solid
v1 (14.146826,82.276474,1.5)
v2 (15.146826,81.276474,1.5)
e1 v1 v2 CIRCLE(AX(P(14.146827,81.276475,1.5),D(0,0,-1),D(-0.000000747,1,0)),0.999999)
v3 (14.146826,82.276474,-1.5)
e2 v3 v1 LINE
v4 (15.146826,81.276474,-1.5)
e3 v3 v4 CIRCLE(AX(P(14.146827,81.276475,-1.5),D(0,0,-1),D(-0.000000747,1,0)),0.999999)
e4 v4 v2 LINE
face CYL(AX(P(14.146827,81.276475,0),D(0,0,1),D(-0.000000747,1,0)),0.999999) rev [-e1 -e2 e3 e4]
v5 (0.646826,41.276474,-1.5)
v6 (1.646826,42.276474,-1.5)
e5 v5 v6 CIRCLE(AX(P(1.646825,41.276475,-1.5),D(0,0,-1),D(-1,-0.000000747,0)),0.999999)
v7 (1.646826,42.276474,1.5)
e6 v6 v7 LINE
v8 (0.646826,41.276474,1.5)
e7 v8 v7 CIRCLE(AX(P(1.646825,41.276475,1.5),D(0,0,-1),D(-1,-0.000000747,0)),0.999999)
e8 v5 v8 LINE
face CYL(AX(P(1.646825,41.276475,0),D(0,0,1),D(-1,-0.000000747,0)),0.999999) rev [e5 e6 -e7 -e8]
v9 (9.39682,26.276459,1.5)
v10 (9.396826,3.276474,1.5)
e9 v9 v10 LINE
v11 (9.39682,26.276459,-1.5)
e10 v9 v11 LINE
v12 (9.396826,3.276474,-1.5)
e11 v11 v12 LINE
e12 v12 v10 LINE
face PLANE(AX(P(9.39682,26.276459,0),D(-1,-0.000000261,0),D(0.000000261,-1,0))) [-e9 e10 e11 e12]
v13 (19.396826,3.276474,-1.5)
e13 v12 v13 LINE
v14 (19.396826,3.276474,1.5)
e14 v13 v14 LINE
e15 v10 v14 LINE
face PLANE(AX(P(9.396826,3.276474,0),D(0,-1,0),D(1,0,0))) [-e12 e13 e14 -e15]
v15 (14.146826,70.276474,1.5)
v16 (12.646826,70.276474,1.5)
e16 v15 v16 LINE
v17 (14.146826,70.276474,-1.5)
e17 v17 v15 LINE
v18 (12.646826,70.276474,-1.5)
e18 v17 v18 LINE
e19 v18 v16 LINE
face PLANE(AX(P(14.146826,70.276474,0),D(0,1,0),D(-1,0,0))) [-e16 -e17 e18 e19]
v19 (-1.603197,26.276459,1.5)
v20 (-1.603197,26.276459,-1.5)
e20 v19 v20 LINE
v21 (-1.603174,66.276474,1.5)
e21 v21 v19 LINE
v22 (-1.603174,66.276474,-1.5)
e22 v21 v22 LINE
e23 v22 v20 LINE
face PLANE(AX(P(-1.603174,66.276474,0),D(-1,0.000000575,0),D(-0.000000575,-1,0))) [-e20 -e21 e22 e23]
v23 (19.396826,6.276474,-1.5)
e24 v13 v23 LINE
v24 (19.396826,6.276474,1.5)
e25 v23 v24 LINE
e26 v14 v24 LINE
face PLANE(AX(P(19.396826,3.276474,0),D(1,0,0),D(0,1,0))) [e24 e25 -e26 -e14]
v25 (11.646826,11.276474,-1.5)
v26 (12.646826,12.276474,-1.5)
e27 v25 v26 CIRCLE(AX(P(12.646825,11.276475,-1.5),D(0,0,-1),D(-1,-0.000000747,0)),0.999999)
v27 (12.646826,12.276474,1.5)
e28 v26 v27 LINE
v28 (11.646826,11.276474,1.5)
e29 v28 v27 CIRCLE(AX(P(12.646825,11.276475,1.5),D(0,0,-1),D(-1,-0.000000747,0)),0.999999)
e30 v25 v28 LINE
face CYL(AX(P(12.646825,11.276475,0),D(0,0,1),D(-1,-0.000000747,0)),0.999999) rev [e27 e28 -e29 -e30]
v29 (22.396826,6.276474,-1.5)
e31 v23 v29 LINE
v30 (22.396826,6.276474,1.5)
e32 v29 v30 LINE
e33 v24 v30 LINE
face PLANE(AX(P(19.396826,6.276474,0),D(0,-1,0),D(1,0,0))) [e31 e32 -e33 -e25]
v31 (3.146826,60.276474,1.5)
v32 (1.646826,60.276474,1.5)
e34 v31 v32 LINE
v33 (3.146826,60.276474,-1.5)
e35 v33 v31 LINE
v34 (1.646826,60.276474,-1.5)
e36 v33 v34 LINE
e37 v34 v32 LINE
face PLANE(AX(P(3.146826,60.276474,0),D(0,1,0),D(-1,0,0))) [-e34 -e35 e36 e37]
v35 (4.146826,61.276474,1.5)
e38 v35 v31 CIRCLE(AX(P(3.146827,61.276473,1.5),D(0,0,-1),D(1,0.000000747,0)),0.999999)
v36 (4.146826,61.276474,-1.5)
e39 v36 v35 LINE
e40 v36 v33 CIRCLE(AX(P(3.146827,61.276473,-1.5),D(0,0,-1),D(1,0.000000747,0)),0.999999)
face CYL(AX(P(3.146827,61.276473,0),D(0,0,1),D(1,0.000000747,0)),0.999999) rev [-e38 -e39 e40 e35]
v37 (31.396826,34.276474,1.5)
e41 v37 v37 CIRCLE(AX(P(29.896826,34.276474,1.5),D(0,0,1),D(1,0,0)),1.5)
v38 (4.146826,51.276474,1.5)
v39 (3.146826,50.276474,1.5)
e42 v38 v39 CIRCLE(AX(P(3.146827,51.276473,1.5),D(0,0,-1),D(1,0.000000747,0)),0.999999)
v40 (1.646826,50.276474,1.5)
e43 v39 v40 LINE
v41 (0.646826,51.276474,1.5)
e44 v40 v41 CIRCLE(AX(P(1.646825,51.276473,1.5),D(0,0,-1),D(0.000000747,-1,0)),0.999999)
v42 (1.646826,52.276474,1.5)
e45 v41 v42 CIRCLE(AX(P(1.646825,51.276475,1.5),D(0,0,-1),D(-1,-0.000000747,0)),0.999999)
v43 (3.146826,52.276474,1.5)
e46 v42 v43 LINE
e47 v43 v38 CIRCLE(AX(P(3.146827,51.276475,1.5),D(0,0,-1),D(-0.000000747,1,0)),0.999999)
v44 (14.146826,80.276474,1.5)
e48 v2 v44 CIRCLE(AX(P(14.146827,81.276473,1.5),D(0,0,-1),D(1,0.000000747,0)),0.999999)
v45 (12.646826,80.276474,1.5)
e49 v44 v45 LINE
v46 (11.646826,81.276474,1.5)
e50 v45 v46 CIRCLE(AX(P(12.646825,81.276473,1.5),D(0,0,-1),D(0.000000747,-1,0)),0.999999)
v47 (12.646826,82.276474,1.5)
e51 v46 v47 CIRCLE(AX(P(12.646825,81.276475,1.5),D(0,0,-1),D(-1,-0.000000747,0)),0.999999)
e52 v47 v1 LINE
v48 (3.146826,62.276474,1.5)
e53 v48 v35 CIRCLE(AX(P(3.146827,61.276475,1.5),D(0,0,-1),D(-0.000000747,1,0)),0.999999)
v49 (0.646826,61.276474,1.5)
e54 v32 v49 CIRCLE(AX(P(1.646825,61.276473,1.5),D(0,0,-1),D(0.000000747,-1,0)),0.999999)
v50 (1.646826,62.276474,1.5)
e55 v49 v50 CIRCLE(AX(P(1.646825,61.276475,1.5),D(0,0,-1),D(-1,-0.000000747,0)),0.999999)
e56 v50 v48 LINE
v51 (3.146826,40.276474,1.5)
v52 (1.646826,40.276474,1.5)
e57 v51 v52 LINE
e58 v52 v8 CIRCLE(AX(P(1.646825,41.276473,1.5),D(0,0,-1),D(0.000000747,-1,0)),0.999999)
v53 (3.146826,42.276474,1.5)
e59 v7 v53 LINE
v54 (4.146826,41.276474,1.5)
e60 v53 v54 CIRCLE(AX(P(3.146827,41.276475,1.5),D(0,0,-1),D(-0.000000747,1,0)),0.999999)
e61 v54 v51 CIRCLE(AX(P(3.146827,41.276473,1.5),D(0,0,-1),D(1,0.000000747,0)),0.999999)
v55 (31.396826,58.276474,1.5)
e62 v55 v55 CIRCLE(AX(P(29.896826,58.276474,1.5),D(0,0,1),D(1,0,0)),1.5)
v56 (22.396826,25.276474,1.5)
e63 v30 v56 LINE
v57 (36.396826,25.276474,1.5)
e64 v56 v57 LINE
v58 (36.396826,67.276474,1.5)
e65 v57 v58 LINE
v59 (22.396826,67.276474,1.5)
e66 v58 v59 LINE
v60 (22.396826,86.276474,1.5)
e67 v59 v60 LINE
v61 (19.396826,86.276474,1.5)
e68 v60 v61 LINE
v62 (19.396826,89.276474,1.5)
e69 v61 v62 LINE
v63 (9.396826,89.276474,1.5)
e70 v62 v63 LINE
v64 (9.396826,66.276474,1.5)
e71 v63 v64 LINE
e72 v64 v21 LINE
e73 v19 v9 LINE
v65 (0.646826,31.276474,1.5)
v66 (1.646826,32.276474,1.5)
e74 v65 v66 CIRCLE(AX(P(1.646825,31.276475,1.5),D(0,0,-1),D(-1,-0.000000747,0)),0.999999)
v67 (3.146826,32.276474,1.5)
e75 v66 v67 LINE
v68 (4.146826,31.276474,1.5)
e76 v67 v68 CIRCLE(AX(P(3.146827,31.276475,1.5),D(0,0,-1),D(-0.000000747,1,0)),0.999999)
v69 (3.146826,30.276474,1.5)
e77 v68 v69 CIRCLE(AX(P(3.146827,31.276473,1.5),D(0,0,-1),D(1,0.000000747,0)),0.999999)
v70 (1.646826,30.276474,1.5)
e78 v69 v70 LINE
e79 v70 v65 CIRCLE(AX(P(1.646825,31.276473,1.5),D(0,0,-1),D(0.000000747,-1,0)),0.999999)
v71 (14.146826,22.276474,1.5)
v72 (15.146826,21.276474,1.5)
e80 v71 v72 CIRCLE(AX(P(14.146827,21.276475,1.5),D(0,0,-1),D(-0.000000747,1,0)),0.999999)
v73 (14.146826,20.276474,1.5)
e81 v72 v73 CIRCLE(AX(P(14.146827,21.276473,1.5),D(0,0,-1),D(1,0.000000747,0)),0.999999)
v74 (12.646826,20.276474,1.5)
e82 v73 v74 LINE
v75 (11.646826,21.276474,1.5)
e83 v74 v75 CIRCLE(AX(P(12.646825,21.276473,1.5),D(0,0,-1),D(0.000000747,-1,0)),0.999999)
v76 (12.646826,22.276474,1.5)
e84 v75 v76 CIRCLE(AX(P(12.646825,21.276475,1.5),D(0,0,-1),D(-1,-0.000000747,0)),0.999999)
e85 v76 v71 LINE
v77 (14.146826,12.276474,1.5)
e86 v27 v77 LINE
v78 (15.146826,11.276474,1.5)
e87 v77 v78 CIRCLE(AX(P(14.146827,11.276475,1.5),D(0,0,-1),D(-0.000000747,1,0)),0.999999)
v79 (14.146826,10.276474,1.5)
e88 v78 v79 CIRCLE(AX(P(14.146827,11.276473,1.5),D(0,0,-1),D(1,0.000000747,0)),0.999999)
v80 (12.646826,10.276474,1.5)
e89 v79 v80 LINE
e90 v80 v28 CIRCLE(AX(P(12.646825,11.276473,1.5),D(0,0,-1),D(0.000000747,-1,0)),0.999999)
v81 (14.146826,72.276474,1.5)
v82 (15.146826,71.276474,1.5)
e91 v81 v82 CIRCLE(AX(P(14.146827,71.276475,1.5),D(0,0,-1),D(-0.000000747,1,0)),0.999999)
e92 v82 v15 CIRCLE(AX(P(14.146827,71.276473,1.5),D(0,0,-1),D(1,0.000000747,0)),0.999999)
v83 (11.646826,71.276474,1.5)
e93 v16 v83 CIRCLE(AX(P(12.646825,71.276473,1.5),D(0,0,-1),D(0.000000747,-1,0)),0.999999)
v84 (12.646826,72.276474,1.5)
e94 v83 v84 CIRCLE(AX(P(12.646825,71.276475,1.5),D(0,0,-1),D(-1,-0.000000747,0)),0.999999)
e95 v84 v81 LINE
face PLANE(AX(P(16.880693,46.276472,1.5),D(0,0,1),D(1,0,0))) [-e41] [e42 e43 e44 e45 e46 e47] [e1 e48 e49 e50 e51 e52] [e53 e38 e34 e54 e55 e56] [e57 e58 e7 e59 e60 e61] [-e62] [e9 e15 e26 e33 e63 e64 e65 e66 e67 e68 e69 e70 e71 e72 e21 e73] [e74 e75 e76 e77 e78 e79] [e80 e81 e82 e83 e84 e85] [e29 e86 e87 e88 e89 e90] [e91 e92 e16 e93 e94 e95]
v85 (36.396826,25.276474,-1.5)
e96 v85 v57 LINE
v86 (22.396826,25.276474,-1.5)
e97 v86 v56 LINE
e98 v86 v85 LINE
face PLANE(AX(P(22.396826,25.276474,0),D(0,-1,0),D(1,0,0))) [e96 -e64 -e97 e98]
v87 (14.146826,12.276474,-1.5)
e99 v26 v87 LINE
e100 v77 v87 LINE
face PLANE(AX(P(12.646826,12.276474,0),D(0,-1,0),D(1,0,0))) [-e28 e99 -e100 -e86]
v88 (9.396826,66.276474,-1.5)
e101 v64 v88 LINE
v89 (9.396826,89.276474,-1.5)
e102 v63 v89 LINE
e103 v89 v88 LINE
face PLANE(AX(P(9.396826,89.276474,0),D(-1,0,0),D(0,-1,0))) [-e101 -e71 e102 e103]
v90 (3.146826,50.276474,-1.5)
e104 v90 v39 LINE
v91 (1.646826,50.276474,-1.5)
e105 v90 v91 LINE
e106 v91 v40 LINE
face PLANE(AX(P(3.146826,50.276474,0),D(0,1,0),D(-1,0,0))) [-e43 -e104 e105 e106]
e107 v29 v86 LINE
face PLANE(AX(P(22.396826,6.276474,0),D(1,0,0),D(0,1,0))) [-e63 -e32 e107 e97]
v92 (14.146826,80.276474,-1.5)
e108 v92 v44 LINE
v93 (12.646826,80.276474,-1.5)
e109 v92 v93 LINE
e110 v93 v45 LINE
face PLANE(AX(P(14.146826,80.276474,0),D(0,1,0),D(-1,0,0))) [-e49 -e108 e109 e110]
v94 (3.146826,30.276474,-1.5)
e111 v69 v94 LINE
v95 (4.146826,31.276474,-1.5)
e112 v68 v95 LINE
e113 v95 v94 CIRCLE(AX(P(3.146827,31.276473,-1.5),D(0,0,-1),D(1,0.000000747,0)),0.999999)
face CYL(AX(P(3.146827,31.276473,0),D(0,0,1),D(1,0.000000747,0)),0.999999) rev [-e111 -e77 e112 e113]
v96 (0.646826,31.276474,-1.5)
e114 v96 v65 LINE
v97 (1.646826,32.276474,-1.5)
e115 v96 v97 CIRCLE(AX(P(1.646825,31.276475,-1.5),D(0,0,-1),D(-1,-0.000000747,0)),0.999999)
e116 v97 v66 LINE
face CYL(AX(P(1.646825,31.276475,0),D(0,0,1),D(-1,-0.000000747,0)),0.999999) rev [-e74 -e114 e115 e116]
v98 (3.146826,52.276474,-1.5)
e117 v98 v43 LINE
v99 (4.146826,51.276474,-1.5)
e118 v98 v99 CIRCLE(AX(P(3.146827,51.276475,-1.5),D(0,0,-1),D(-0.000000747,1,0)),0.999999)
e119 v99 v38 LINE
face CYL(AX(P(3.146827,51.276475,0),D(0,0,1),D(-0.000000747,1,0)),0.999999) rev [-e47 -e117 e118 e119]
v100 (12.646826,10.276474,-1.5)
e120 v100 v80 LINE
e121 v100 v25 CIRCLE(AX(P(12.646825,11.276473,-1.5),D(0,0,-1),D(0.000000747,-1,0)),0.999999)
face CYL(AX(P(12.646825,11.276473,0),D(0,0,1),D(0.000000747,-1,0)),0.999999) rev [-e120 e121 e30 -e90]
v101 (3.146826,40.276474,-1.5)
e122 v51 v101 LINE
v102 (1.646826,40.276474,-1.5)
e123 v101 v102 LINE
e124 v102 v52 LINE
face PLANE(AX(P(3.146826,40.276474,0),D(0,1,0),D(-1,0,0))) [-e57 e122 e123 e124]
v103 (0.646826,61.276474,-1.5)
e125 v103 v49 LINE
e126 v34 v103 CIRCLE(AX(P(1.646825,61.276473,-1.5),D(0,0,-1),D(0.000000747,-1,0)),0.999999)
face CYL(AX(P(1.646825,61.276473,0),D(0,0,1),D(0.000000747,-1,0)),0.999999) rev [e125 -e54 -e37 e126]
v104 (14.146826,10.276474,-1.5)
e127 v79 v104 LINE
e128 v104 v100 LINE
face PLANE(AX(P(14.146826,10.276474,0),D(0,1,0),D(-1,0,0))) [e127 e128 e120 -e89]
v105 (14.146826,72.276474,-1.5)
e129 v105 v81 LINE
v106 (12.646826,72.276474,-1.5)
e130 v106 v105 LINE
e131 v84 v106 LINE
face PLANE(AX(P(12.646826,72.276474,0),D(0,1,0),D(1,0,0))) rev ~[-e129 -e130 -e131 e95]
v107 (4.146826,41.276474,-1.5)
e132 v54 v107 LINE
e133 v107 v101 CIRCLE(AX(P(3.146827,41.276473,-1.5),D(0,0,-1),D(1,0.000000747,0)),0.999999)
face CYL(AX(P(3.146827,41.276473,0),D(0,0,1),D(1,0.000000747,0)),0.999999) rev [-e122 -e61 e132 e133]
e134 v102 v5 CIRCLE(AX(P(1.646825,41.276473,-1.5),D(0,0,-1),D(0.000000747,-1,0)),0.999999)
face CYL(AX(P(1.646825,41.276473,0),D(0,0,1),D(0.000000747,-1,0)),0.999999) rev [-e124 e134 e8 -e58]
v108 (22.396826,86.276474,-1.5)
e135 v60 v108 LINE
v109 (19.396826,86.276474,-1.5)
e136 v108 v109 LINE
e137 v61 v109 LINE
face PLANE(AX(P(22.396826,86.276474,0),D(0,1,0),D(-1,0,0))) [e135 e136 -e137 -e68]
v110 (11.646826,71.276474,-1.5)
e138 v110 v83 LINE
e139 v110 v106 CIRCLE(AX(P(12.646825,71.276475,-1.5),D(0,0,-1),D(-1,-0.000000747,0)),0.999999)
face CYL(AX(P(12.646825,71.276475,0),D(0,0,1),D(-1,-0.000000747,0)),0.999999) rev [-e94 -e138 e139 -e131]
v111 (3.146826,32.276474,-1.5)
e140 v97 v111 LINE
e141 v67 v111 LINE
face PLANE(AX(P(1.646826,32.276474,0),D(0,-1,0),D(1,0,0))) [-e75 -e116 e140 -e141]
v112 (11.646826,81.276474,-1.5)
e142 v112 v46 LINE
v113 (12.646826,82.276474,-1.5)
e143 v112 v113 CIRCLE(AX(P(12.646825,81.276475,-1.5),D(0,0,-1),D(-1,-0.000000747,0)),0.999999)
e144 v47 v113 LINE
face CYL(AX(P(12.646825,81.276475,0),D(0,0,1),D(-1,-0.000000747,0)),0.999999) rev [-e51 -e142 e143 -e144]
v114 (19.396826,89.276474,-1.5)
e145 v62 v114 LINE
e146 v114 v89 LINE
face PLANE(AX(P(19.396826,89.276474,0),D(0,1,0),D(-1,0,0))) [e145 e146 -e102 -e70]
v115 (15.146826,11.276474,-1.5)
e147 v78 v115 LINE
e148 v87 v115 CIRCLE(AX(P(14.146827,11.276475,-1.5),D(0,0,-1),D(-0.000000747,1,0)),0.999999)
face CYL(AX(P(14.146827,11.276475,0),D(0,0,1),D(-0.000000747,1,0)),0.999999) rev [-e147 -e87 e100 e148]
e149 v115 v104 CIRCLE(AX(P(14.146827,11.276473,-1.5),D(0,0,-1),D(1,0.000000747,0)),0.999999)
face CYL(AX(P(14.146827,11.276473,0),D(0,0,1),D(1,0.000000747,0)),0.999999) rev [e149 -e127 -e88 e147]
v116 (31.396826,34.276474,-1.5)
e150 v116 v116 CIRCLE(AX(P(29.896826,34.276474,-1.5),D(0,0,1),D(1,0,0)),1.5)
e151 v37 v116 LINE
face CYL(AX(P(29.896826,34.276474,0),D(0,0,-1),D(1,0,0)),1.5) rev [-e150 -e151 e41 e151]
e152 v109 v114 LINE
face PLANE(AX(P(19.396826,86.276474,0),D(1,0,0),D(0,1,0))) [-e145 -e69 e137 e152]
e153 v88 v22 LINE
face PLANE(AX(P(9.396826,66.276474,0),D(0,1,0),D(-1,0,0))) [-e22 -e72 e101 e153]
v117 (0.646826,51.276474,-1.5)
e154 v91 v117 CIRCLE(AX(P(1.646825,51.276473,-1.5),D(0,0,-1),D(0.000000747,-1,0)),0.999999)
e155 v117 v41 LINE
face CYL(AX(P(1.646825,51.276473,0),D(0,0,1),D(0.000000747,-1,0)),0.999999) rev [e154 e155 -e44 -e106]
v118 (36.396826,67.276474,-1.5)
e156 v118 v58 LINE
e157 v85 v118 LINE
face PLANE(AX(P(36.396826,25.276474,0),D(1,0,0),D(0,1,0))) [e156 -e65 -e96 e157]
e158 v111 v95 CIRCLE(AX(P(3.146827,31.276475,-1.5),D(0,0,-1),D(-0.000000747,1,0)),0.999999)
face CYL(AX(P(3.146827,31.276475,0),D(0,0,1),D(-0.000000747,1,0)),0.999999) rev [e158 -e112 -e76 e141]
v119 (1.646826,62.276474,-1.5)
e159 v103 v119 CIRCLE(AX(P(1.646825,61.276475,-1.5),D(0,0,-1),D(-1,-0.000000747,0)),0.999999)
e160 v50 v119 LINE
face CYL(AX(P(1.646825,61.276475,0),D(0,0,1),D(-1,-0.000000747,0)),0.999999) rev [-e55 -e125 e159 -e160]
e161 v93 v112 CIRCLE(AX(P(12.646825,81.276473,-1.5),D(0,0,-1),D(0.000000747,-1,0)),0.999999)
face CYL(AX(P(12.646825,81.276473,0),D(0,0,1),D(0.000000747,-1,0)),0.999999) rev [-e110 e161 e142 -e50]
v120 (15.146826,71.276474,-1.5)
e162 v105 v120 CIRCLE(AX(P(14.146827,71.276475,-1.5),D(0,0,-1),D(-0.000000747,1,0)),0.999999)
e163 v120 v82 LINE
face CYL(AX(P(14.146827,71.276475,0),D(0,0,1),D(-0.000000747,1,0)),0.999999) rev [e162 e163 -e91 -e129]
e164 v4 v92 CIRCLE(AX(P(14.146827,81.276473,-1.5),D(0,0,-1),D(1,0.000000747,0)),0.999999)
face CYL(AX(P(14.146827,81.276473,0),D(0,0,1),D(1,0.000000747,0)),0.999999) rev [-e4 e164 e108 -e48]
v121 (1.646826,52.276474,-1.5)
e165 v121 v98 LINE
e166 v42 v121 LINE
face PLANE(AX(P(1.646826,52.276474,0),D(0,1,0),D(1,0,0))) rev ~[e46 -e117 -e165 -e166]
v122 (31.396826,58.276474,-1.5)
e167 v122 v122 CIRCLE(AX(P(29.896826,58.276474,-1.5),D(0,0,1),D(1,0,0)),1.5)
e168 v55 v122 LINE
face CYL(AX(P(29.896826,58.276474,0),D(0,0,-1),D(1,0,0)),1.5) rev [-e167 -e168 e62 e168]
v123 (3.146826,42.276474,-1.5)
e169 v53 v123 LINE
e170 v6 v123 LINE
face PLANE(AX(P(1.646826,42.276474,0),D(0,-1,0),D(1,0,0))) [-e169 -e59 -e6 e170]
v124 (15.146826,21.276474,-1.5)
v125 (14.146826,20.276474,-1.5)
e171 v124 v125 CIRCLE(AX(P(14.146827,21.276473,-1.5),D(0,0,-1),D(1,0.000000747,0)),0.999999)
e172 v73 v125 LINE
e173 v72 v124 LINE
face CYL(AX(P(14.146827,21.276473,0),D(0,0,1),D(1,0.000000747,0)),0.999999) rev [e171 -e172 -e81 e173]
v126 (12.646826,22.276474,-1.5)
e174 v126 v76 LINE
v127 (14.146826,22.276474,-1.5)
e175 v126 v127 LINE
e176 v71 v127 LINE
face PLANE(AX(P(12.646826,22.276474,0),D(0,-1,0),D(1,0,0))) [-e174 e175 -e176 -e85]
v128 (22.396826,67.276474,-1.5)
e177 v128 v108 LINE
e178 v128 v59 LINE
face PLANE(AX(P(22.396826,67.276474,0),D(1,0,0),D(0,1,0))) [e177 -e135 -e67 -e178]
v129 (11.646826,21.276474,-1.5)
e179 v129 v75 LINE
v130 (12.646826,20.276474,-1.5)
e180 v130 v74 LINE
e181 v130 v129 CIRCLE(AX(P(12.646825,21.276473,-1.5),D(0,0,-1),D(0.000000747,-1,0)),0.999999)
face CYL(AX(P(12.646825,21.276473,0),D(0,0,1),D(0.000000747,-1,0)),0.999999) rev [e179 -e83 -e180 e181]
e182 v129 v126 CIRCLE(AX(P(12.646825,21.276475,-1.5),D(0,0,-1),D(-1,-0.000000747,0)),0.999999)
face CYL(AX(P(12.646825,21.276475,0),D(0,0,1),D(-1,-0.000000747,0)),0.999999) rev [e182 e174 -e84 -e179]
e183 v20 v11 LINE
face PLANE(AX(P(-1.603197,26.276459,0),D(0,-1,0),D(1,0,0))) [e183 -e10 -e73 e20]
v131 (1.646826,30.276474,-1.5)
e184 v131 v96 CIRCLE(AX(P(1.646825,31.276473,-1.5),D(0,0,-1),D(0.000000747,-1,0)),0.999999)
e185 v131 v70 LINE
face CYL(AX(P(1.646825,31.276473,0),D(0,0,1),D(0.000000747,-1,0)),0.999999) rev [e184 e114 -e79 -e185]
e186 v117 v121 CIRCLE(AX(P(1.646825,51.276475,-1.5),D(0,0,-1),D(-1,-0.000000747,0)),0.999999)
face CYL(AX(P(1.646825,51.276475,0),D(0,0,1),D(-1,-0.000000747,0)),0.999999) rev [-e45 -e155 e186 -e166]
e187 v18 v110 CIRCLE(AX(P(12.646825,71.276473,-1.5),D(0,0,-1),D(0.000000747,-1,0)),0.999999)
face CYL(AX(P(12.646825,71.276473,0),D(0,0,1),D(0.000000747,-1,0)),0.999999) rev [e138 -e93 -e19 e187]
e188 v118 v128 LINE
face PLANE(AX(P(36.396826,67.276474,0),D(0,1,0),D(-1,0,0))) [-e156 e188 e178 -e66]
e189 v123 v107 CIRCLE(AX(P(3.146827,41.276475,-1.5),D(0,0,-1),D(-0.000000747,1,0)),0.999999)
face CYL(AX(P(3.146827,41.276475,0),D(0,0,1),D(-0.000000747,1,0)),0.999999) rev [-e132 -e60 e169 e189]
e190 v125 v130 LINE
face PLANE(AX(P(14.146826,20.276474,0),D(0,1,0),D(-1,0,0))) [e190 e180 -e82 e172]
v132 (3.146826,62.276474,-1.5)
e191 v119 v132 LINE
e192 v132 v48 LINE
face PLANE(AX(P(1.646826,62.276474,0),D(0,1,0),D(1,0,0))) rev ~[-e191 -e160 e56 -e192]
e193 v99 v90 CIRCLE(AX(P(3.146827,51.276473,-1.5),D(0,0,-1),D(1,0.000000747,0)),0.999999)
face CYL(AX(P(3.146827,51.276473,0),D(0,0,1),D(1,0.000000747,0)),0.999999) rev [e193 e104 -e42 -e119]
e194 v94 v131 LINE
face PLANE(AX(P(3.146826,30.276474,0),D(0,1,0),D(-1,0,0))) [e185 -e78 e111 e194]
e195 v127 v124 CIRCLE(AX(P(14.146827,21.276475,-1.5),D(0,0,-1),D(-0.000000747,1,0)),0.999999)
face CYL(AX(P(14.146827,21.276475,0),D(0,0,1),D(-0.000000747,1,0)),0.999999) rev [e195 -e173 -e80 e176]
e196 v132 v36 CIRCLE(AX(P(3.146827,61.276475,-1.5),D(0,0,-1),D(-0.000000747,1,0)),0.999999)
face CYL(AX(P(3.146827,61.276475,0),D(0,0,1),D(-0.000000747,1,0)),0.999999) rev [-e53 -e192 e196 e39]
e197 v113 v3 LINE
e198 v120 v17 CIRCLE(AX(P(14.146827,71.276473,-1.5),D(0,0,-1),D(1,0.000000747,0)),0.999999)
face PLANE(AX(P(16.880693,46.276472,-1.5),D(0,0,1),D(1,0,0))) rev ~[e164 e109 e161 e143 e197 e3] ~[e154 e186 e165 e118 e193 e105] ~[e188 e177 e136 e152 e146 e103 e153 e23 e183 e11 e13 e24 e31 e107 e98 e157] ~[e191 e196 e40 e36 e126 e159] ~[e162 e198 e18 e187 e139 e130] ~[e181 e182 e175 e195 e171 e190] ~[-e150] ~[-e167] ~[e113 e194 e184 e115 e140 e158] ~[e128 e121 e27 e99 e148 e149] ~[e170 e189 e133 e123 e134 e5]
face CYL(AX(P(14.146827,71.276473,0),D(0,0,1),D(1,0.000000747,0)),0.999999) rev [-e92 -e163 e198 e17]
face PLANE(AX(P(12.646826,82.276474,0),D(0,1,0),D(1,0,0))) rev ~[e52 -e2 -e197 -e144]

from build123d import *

# Parameters (mm, degrees)
F0_R     = 1.5
F1_DEPTH = 1.5


with BuildPart() as f1:
    # F0 (on Top) → F1 (new body, symmetric)
    with BuildSketch(Plane.XY):
        Polygon((9.39682, 26.276459), (9.396826, 3.276474), (19.396826, 3.276474), (19.396826, 6.276474), (22.396826, 6.276474), (22.396826, 25.276474), (36.396826, 25.276474), (36.396826, 67.276474), (22.396826, 67.276474), (22.396826, 86.276474), (19.396826, 86.276474), (19.396826, 89.276474), (9.396826, 89.276474), (9.396826, 66.276474), (-1.603174, 66.276474), (-1.603197, 26.276459), align=None)
        with BuildLine():
            ThreePointArc((12.646826, 10.276474), (11.939719, 10.569367), (11.646826, 11.276474))
            ThreePointArc((11.646826, 11.276474), (11.939719, 11.983581), (12.646826, 12.276474))
            Line((12.646826, 12.276474), (14.146826, 12.276474))
            ThreePointArc((14.146826, 12.276474), (14.853933, 11.983581), (15.146826, 11.276474))
            ThreePointArc((15.146826, 11.276474), (14.853933, 10.569367), (14.146826, 10.276474))
            Line((14.146826, 10.276474), (12.646826, 10.276474))
        make_face(mode=Mode.SUBTRACT)
        with BuildLine():
            ThreePointArc((12.646826, 20.276474), (11.939719, 20.569367), (11.646826, 21.276474))
            ThreePointArc((11.646826, 21.276474), (11.939719, 21.983581), (12.646826, 22.276474))
            Line((12.646826, 22.276474), (14.146826, 22.276474))
            ThreePointArc((14.146826, 22.276474), (14.853933, 21.983581), (15.146826, 21.276474))
            ThreePointArc((15.146826, 21.276474), (14.853933, 20.569367), (14.146826, 20.276474))
            Line((14.146826, 20.276474), (12.646826, 20.276474))
        make_face(mode=Mode.SUBTRACT)
        with BuildLine():
            ThreePointArc((1.646826, 30.276474), (0.939719, 30.569367), (0.646826, 31.276474))
            ThreePointArc((0.646826, 31.276474), (0.939719, 31.983581), (1.646826, 32.276474))
            Line((1.646826, 32.276474), (3.146826, 32.276474))
            ThreePointArc((3.146826, 32.276474), (3.853933, 31.983581), (4.146826, 31.276474))
            ThreePointArc((4.146826, 31.276474), (3.853933, 30.569367), (3.146826, 30.276474))
            Line((3.146826, 30.276474), (1.646826, 30.276474))
        make_face(mode=Mode.SUBTRACT)
        with BuildLine():
            ThreePointArc((1.646826, 40.276474), (0.939719, 40.569367), (0.646826, 41.276474))
            ThreePointArc((0.646826, 41.276474), (0.939719, 41.983581), (1.646826, 42.276474))
            Line((1.646826, 42.276474), (3.146826, 42.276474))
            ThreePointArc((3.146826, 42.276474), (3.853933, 41.983581), (4.146826, 41.276474))
            ThreePointArc((4.146826, 41.276474), (3.853933, 40.569367), (3.146826, 40.276474))
            Line((3.146826, 40.276474), (1.646826, 40.276474))
        make_face(mode=Mode.SUBTRACT)
        with Locations((29.896826, 34.276474)):
            Circle(F0_R, mode=Mode.SUBTRACT)
        with BuildLine():
            ThreePointArc((1.646826, 50.276474), (0.939719, 50.569367), (0.646826, 51.276474))
            ThreePointArc((0.646826, 51.276474), (0.939719, 51.983581), (1.646826, 52.276474))
            Line((1.646826, 52.276474), (3.146826, 52.276474))
            ThreePointArc((3.146826, 52.276474), (3.853933, 51.983581), (4.146826, 51.276474))
            ThreePointArc((4.146826, 51.276474), (3.853933, 50.569367), (3.146826, 50.276474))
            Line((3.146826, 50.276474), (1.646826, 50.276474))
        make_face(mode=Mode.SUBTRACT)
        with BuildLine():
            ThreePointArc((1.646826, 60.276474), (0.939719, 60.569367), (0.646826, 61.276474))
            ThreePointArc((0.646826, 61.276474), (0.939719, 61.983581), (1.646826, 62.276474))
            Line((1.646826, 62.276474), (3.146826, 62.276474))
            ThreePointArc((3.146826, 62.276474), (3.853933, 61.983581), (4.146826, 61.276474))
            ThreePointArc((4.146826, 61.276474), (3.853933, 60.569367), (3.146826, 60.276474))
            Line((3.146826, 60.276474), (1.646826, 60.276474))
        make_face(mode=Mode.SUBTRACT)
        with BuildLine():
            ThreePointArc((12.646826, 70.276474), (11.939719, 70.569367), (11.646826, 71.276474))
            ThreePointArc((11.646826, 71.276474), (11.939719, 71.983581), (12.646826, 72.276474))
            Line((12.646826, 72.276474), (14.146826, 72.276474))
            ThreePointArc((14.146826, 72.276474), (14.853933, 71.983581), (15.146826, 71.276474))
            ThreePointArc((15.146826, 71.276474), (14.853933, 70.569367), (14.146826, 70.276474))
            Line((14.146826, 70.276474), (12.646826, 70.276474))
        make_face(mode=Mode.SUBTRACT)
        with BuildLine():
            ThreePointArc((12.646826, 80.276474), (11.939719, 80.569367), (11.646826, 81.276474))
            ThreePointArc((11.646826, 81.276474), (11.939719, 81.983581), (12.646826, 82.276474))
            Line((12.646826, 82.276474), (14.146826, 82.276474))
            ThreePointArc((14.146826, 82.276474), (14.853933, 81.983581), (15.146826, 81.276474))
            ThreePointArc((15.146826, 81.276474), (14.853933, 80.569367), (14.146826, 80.276474))
            Line((14.146826, 80.276474), (12.646826, 80.276474))
        make_face(mode=Mode.SUBTRACT)
        with Locations((29.896826, 58.276474)):
            Circle(F0_R, mode=Mode.SUBTRACT)
    extrude(amount=F1_DEPTH, both=True)


solid = f1.part
